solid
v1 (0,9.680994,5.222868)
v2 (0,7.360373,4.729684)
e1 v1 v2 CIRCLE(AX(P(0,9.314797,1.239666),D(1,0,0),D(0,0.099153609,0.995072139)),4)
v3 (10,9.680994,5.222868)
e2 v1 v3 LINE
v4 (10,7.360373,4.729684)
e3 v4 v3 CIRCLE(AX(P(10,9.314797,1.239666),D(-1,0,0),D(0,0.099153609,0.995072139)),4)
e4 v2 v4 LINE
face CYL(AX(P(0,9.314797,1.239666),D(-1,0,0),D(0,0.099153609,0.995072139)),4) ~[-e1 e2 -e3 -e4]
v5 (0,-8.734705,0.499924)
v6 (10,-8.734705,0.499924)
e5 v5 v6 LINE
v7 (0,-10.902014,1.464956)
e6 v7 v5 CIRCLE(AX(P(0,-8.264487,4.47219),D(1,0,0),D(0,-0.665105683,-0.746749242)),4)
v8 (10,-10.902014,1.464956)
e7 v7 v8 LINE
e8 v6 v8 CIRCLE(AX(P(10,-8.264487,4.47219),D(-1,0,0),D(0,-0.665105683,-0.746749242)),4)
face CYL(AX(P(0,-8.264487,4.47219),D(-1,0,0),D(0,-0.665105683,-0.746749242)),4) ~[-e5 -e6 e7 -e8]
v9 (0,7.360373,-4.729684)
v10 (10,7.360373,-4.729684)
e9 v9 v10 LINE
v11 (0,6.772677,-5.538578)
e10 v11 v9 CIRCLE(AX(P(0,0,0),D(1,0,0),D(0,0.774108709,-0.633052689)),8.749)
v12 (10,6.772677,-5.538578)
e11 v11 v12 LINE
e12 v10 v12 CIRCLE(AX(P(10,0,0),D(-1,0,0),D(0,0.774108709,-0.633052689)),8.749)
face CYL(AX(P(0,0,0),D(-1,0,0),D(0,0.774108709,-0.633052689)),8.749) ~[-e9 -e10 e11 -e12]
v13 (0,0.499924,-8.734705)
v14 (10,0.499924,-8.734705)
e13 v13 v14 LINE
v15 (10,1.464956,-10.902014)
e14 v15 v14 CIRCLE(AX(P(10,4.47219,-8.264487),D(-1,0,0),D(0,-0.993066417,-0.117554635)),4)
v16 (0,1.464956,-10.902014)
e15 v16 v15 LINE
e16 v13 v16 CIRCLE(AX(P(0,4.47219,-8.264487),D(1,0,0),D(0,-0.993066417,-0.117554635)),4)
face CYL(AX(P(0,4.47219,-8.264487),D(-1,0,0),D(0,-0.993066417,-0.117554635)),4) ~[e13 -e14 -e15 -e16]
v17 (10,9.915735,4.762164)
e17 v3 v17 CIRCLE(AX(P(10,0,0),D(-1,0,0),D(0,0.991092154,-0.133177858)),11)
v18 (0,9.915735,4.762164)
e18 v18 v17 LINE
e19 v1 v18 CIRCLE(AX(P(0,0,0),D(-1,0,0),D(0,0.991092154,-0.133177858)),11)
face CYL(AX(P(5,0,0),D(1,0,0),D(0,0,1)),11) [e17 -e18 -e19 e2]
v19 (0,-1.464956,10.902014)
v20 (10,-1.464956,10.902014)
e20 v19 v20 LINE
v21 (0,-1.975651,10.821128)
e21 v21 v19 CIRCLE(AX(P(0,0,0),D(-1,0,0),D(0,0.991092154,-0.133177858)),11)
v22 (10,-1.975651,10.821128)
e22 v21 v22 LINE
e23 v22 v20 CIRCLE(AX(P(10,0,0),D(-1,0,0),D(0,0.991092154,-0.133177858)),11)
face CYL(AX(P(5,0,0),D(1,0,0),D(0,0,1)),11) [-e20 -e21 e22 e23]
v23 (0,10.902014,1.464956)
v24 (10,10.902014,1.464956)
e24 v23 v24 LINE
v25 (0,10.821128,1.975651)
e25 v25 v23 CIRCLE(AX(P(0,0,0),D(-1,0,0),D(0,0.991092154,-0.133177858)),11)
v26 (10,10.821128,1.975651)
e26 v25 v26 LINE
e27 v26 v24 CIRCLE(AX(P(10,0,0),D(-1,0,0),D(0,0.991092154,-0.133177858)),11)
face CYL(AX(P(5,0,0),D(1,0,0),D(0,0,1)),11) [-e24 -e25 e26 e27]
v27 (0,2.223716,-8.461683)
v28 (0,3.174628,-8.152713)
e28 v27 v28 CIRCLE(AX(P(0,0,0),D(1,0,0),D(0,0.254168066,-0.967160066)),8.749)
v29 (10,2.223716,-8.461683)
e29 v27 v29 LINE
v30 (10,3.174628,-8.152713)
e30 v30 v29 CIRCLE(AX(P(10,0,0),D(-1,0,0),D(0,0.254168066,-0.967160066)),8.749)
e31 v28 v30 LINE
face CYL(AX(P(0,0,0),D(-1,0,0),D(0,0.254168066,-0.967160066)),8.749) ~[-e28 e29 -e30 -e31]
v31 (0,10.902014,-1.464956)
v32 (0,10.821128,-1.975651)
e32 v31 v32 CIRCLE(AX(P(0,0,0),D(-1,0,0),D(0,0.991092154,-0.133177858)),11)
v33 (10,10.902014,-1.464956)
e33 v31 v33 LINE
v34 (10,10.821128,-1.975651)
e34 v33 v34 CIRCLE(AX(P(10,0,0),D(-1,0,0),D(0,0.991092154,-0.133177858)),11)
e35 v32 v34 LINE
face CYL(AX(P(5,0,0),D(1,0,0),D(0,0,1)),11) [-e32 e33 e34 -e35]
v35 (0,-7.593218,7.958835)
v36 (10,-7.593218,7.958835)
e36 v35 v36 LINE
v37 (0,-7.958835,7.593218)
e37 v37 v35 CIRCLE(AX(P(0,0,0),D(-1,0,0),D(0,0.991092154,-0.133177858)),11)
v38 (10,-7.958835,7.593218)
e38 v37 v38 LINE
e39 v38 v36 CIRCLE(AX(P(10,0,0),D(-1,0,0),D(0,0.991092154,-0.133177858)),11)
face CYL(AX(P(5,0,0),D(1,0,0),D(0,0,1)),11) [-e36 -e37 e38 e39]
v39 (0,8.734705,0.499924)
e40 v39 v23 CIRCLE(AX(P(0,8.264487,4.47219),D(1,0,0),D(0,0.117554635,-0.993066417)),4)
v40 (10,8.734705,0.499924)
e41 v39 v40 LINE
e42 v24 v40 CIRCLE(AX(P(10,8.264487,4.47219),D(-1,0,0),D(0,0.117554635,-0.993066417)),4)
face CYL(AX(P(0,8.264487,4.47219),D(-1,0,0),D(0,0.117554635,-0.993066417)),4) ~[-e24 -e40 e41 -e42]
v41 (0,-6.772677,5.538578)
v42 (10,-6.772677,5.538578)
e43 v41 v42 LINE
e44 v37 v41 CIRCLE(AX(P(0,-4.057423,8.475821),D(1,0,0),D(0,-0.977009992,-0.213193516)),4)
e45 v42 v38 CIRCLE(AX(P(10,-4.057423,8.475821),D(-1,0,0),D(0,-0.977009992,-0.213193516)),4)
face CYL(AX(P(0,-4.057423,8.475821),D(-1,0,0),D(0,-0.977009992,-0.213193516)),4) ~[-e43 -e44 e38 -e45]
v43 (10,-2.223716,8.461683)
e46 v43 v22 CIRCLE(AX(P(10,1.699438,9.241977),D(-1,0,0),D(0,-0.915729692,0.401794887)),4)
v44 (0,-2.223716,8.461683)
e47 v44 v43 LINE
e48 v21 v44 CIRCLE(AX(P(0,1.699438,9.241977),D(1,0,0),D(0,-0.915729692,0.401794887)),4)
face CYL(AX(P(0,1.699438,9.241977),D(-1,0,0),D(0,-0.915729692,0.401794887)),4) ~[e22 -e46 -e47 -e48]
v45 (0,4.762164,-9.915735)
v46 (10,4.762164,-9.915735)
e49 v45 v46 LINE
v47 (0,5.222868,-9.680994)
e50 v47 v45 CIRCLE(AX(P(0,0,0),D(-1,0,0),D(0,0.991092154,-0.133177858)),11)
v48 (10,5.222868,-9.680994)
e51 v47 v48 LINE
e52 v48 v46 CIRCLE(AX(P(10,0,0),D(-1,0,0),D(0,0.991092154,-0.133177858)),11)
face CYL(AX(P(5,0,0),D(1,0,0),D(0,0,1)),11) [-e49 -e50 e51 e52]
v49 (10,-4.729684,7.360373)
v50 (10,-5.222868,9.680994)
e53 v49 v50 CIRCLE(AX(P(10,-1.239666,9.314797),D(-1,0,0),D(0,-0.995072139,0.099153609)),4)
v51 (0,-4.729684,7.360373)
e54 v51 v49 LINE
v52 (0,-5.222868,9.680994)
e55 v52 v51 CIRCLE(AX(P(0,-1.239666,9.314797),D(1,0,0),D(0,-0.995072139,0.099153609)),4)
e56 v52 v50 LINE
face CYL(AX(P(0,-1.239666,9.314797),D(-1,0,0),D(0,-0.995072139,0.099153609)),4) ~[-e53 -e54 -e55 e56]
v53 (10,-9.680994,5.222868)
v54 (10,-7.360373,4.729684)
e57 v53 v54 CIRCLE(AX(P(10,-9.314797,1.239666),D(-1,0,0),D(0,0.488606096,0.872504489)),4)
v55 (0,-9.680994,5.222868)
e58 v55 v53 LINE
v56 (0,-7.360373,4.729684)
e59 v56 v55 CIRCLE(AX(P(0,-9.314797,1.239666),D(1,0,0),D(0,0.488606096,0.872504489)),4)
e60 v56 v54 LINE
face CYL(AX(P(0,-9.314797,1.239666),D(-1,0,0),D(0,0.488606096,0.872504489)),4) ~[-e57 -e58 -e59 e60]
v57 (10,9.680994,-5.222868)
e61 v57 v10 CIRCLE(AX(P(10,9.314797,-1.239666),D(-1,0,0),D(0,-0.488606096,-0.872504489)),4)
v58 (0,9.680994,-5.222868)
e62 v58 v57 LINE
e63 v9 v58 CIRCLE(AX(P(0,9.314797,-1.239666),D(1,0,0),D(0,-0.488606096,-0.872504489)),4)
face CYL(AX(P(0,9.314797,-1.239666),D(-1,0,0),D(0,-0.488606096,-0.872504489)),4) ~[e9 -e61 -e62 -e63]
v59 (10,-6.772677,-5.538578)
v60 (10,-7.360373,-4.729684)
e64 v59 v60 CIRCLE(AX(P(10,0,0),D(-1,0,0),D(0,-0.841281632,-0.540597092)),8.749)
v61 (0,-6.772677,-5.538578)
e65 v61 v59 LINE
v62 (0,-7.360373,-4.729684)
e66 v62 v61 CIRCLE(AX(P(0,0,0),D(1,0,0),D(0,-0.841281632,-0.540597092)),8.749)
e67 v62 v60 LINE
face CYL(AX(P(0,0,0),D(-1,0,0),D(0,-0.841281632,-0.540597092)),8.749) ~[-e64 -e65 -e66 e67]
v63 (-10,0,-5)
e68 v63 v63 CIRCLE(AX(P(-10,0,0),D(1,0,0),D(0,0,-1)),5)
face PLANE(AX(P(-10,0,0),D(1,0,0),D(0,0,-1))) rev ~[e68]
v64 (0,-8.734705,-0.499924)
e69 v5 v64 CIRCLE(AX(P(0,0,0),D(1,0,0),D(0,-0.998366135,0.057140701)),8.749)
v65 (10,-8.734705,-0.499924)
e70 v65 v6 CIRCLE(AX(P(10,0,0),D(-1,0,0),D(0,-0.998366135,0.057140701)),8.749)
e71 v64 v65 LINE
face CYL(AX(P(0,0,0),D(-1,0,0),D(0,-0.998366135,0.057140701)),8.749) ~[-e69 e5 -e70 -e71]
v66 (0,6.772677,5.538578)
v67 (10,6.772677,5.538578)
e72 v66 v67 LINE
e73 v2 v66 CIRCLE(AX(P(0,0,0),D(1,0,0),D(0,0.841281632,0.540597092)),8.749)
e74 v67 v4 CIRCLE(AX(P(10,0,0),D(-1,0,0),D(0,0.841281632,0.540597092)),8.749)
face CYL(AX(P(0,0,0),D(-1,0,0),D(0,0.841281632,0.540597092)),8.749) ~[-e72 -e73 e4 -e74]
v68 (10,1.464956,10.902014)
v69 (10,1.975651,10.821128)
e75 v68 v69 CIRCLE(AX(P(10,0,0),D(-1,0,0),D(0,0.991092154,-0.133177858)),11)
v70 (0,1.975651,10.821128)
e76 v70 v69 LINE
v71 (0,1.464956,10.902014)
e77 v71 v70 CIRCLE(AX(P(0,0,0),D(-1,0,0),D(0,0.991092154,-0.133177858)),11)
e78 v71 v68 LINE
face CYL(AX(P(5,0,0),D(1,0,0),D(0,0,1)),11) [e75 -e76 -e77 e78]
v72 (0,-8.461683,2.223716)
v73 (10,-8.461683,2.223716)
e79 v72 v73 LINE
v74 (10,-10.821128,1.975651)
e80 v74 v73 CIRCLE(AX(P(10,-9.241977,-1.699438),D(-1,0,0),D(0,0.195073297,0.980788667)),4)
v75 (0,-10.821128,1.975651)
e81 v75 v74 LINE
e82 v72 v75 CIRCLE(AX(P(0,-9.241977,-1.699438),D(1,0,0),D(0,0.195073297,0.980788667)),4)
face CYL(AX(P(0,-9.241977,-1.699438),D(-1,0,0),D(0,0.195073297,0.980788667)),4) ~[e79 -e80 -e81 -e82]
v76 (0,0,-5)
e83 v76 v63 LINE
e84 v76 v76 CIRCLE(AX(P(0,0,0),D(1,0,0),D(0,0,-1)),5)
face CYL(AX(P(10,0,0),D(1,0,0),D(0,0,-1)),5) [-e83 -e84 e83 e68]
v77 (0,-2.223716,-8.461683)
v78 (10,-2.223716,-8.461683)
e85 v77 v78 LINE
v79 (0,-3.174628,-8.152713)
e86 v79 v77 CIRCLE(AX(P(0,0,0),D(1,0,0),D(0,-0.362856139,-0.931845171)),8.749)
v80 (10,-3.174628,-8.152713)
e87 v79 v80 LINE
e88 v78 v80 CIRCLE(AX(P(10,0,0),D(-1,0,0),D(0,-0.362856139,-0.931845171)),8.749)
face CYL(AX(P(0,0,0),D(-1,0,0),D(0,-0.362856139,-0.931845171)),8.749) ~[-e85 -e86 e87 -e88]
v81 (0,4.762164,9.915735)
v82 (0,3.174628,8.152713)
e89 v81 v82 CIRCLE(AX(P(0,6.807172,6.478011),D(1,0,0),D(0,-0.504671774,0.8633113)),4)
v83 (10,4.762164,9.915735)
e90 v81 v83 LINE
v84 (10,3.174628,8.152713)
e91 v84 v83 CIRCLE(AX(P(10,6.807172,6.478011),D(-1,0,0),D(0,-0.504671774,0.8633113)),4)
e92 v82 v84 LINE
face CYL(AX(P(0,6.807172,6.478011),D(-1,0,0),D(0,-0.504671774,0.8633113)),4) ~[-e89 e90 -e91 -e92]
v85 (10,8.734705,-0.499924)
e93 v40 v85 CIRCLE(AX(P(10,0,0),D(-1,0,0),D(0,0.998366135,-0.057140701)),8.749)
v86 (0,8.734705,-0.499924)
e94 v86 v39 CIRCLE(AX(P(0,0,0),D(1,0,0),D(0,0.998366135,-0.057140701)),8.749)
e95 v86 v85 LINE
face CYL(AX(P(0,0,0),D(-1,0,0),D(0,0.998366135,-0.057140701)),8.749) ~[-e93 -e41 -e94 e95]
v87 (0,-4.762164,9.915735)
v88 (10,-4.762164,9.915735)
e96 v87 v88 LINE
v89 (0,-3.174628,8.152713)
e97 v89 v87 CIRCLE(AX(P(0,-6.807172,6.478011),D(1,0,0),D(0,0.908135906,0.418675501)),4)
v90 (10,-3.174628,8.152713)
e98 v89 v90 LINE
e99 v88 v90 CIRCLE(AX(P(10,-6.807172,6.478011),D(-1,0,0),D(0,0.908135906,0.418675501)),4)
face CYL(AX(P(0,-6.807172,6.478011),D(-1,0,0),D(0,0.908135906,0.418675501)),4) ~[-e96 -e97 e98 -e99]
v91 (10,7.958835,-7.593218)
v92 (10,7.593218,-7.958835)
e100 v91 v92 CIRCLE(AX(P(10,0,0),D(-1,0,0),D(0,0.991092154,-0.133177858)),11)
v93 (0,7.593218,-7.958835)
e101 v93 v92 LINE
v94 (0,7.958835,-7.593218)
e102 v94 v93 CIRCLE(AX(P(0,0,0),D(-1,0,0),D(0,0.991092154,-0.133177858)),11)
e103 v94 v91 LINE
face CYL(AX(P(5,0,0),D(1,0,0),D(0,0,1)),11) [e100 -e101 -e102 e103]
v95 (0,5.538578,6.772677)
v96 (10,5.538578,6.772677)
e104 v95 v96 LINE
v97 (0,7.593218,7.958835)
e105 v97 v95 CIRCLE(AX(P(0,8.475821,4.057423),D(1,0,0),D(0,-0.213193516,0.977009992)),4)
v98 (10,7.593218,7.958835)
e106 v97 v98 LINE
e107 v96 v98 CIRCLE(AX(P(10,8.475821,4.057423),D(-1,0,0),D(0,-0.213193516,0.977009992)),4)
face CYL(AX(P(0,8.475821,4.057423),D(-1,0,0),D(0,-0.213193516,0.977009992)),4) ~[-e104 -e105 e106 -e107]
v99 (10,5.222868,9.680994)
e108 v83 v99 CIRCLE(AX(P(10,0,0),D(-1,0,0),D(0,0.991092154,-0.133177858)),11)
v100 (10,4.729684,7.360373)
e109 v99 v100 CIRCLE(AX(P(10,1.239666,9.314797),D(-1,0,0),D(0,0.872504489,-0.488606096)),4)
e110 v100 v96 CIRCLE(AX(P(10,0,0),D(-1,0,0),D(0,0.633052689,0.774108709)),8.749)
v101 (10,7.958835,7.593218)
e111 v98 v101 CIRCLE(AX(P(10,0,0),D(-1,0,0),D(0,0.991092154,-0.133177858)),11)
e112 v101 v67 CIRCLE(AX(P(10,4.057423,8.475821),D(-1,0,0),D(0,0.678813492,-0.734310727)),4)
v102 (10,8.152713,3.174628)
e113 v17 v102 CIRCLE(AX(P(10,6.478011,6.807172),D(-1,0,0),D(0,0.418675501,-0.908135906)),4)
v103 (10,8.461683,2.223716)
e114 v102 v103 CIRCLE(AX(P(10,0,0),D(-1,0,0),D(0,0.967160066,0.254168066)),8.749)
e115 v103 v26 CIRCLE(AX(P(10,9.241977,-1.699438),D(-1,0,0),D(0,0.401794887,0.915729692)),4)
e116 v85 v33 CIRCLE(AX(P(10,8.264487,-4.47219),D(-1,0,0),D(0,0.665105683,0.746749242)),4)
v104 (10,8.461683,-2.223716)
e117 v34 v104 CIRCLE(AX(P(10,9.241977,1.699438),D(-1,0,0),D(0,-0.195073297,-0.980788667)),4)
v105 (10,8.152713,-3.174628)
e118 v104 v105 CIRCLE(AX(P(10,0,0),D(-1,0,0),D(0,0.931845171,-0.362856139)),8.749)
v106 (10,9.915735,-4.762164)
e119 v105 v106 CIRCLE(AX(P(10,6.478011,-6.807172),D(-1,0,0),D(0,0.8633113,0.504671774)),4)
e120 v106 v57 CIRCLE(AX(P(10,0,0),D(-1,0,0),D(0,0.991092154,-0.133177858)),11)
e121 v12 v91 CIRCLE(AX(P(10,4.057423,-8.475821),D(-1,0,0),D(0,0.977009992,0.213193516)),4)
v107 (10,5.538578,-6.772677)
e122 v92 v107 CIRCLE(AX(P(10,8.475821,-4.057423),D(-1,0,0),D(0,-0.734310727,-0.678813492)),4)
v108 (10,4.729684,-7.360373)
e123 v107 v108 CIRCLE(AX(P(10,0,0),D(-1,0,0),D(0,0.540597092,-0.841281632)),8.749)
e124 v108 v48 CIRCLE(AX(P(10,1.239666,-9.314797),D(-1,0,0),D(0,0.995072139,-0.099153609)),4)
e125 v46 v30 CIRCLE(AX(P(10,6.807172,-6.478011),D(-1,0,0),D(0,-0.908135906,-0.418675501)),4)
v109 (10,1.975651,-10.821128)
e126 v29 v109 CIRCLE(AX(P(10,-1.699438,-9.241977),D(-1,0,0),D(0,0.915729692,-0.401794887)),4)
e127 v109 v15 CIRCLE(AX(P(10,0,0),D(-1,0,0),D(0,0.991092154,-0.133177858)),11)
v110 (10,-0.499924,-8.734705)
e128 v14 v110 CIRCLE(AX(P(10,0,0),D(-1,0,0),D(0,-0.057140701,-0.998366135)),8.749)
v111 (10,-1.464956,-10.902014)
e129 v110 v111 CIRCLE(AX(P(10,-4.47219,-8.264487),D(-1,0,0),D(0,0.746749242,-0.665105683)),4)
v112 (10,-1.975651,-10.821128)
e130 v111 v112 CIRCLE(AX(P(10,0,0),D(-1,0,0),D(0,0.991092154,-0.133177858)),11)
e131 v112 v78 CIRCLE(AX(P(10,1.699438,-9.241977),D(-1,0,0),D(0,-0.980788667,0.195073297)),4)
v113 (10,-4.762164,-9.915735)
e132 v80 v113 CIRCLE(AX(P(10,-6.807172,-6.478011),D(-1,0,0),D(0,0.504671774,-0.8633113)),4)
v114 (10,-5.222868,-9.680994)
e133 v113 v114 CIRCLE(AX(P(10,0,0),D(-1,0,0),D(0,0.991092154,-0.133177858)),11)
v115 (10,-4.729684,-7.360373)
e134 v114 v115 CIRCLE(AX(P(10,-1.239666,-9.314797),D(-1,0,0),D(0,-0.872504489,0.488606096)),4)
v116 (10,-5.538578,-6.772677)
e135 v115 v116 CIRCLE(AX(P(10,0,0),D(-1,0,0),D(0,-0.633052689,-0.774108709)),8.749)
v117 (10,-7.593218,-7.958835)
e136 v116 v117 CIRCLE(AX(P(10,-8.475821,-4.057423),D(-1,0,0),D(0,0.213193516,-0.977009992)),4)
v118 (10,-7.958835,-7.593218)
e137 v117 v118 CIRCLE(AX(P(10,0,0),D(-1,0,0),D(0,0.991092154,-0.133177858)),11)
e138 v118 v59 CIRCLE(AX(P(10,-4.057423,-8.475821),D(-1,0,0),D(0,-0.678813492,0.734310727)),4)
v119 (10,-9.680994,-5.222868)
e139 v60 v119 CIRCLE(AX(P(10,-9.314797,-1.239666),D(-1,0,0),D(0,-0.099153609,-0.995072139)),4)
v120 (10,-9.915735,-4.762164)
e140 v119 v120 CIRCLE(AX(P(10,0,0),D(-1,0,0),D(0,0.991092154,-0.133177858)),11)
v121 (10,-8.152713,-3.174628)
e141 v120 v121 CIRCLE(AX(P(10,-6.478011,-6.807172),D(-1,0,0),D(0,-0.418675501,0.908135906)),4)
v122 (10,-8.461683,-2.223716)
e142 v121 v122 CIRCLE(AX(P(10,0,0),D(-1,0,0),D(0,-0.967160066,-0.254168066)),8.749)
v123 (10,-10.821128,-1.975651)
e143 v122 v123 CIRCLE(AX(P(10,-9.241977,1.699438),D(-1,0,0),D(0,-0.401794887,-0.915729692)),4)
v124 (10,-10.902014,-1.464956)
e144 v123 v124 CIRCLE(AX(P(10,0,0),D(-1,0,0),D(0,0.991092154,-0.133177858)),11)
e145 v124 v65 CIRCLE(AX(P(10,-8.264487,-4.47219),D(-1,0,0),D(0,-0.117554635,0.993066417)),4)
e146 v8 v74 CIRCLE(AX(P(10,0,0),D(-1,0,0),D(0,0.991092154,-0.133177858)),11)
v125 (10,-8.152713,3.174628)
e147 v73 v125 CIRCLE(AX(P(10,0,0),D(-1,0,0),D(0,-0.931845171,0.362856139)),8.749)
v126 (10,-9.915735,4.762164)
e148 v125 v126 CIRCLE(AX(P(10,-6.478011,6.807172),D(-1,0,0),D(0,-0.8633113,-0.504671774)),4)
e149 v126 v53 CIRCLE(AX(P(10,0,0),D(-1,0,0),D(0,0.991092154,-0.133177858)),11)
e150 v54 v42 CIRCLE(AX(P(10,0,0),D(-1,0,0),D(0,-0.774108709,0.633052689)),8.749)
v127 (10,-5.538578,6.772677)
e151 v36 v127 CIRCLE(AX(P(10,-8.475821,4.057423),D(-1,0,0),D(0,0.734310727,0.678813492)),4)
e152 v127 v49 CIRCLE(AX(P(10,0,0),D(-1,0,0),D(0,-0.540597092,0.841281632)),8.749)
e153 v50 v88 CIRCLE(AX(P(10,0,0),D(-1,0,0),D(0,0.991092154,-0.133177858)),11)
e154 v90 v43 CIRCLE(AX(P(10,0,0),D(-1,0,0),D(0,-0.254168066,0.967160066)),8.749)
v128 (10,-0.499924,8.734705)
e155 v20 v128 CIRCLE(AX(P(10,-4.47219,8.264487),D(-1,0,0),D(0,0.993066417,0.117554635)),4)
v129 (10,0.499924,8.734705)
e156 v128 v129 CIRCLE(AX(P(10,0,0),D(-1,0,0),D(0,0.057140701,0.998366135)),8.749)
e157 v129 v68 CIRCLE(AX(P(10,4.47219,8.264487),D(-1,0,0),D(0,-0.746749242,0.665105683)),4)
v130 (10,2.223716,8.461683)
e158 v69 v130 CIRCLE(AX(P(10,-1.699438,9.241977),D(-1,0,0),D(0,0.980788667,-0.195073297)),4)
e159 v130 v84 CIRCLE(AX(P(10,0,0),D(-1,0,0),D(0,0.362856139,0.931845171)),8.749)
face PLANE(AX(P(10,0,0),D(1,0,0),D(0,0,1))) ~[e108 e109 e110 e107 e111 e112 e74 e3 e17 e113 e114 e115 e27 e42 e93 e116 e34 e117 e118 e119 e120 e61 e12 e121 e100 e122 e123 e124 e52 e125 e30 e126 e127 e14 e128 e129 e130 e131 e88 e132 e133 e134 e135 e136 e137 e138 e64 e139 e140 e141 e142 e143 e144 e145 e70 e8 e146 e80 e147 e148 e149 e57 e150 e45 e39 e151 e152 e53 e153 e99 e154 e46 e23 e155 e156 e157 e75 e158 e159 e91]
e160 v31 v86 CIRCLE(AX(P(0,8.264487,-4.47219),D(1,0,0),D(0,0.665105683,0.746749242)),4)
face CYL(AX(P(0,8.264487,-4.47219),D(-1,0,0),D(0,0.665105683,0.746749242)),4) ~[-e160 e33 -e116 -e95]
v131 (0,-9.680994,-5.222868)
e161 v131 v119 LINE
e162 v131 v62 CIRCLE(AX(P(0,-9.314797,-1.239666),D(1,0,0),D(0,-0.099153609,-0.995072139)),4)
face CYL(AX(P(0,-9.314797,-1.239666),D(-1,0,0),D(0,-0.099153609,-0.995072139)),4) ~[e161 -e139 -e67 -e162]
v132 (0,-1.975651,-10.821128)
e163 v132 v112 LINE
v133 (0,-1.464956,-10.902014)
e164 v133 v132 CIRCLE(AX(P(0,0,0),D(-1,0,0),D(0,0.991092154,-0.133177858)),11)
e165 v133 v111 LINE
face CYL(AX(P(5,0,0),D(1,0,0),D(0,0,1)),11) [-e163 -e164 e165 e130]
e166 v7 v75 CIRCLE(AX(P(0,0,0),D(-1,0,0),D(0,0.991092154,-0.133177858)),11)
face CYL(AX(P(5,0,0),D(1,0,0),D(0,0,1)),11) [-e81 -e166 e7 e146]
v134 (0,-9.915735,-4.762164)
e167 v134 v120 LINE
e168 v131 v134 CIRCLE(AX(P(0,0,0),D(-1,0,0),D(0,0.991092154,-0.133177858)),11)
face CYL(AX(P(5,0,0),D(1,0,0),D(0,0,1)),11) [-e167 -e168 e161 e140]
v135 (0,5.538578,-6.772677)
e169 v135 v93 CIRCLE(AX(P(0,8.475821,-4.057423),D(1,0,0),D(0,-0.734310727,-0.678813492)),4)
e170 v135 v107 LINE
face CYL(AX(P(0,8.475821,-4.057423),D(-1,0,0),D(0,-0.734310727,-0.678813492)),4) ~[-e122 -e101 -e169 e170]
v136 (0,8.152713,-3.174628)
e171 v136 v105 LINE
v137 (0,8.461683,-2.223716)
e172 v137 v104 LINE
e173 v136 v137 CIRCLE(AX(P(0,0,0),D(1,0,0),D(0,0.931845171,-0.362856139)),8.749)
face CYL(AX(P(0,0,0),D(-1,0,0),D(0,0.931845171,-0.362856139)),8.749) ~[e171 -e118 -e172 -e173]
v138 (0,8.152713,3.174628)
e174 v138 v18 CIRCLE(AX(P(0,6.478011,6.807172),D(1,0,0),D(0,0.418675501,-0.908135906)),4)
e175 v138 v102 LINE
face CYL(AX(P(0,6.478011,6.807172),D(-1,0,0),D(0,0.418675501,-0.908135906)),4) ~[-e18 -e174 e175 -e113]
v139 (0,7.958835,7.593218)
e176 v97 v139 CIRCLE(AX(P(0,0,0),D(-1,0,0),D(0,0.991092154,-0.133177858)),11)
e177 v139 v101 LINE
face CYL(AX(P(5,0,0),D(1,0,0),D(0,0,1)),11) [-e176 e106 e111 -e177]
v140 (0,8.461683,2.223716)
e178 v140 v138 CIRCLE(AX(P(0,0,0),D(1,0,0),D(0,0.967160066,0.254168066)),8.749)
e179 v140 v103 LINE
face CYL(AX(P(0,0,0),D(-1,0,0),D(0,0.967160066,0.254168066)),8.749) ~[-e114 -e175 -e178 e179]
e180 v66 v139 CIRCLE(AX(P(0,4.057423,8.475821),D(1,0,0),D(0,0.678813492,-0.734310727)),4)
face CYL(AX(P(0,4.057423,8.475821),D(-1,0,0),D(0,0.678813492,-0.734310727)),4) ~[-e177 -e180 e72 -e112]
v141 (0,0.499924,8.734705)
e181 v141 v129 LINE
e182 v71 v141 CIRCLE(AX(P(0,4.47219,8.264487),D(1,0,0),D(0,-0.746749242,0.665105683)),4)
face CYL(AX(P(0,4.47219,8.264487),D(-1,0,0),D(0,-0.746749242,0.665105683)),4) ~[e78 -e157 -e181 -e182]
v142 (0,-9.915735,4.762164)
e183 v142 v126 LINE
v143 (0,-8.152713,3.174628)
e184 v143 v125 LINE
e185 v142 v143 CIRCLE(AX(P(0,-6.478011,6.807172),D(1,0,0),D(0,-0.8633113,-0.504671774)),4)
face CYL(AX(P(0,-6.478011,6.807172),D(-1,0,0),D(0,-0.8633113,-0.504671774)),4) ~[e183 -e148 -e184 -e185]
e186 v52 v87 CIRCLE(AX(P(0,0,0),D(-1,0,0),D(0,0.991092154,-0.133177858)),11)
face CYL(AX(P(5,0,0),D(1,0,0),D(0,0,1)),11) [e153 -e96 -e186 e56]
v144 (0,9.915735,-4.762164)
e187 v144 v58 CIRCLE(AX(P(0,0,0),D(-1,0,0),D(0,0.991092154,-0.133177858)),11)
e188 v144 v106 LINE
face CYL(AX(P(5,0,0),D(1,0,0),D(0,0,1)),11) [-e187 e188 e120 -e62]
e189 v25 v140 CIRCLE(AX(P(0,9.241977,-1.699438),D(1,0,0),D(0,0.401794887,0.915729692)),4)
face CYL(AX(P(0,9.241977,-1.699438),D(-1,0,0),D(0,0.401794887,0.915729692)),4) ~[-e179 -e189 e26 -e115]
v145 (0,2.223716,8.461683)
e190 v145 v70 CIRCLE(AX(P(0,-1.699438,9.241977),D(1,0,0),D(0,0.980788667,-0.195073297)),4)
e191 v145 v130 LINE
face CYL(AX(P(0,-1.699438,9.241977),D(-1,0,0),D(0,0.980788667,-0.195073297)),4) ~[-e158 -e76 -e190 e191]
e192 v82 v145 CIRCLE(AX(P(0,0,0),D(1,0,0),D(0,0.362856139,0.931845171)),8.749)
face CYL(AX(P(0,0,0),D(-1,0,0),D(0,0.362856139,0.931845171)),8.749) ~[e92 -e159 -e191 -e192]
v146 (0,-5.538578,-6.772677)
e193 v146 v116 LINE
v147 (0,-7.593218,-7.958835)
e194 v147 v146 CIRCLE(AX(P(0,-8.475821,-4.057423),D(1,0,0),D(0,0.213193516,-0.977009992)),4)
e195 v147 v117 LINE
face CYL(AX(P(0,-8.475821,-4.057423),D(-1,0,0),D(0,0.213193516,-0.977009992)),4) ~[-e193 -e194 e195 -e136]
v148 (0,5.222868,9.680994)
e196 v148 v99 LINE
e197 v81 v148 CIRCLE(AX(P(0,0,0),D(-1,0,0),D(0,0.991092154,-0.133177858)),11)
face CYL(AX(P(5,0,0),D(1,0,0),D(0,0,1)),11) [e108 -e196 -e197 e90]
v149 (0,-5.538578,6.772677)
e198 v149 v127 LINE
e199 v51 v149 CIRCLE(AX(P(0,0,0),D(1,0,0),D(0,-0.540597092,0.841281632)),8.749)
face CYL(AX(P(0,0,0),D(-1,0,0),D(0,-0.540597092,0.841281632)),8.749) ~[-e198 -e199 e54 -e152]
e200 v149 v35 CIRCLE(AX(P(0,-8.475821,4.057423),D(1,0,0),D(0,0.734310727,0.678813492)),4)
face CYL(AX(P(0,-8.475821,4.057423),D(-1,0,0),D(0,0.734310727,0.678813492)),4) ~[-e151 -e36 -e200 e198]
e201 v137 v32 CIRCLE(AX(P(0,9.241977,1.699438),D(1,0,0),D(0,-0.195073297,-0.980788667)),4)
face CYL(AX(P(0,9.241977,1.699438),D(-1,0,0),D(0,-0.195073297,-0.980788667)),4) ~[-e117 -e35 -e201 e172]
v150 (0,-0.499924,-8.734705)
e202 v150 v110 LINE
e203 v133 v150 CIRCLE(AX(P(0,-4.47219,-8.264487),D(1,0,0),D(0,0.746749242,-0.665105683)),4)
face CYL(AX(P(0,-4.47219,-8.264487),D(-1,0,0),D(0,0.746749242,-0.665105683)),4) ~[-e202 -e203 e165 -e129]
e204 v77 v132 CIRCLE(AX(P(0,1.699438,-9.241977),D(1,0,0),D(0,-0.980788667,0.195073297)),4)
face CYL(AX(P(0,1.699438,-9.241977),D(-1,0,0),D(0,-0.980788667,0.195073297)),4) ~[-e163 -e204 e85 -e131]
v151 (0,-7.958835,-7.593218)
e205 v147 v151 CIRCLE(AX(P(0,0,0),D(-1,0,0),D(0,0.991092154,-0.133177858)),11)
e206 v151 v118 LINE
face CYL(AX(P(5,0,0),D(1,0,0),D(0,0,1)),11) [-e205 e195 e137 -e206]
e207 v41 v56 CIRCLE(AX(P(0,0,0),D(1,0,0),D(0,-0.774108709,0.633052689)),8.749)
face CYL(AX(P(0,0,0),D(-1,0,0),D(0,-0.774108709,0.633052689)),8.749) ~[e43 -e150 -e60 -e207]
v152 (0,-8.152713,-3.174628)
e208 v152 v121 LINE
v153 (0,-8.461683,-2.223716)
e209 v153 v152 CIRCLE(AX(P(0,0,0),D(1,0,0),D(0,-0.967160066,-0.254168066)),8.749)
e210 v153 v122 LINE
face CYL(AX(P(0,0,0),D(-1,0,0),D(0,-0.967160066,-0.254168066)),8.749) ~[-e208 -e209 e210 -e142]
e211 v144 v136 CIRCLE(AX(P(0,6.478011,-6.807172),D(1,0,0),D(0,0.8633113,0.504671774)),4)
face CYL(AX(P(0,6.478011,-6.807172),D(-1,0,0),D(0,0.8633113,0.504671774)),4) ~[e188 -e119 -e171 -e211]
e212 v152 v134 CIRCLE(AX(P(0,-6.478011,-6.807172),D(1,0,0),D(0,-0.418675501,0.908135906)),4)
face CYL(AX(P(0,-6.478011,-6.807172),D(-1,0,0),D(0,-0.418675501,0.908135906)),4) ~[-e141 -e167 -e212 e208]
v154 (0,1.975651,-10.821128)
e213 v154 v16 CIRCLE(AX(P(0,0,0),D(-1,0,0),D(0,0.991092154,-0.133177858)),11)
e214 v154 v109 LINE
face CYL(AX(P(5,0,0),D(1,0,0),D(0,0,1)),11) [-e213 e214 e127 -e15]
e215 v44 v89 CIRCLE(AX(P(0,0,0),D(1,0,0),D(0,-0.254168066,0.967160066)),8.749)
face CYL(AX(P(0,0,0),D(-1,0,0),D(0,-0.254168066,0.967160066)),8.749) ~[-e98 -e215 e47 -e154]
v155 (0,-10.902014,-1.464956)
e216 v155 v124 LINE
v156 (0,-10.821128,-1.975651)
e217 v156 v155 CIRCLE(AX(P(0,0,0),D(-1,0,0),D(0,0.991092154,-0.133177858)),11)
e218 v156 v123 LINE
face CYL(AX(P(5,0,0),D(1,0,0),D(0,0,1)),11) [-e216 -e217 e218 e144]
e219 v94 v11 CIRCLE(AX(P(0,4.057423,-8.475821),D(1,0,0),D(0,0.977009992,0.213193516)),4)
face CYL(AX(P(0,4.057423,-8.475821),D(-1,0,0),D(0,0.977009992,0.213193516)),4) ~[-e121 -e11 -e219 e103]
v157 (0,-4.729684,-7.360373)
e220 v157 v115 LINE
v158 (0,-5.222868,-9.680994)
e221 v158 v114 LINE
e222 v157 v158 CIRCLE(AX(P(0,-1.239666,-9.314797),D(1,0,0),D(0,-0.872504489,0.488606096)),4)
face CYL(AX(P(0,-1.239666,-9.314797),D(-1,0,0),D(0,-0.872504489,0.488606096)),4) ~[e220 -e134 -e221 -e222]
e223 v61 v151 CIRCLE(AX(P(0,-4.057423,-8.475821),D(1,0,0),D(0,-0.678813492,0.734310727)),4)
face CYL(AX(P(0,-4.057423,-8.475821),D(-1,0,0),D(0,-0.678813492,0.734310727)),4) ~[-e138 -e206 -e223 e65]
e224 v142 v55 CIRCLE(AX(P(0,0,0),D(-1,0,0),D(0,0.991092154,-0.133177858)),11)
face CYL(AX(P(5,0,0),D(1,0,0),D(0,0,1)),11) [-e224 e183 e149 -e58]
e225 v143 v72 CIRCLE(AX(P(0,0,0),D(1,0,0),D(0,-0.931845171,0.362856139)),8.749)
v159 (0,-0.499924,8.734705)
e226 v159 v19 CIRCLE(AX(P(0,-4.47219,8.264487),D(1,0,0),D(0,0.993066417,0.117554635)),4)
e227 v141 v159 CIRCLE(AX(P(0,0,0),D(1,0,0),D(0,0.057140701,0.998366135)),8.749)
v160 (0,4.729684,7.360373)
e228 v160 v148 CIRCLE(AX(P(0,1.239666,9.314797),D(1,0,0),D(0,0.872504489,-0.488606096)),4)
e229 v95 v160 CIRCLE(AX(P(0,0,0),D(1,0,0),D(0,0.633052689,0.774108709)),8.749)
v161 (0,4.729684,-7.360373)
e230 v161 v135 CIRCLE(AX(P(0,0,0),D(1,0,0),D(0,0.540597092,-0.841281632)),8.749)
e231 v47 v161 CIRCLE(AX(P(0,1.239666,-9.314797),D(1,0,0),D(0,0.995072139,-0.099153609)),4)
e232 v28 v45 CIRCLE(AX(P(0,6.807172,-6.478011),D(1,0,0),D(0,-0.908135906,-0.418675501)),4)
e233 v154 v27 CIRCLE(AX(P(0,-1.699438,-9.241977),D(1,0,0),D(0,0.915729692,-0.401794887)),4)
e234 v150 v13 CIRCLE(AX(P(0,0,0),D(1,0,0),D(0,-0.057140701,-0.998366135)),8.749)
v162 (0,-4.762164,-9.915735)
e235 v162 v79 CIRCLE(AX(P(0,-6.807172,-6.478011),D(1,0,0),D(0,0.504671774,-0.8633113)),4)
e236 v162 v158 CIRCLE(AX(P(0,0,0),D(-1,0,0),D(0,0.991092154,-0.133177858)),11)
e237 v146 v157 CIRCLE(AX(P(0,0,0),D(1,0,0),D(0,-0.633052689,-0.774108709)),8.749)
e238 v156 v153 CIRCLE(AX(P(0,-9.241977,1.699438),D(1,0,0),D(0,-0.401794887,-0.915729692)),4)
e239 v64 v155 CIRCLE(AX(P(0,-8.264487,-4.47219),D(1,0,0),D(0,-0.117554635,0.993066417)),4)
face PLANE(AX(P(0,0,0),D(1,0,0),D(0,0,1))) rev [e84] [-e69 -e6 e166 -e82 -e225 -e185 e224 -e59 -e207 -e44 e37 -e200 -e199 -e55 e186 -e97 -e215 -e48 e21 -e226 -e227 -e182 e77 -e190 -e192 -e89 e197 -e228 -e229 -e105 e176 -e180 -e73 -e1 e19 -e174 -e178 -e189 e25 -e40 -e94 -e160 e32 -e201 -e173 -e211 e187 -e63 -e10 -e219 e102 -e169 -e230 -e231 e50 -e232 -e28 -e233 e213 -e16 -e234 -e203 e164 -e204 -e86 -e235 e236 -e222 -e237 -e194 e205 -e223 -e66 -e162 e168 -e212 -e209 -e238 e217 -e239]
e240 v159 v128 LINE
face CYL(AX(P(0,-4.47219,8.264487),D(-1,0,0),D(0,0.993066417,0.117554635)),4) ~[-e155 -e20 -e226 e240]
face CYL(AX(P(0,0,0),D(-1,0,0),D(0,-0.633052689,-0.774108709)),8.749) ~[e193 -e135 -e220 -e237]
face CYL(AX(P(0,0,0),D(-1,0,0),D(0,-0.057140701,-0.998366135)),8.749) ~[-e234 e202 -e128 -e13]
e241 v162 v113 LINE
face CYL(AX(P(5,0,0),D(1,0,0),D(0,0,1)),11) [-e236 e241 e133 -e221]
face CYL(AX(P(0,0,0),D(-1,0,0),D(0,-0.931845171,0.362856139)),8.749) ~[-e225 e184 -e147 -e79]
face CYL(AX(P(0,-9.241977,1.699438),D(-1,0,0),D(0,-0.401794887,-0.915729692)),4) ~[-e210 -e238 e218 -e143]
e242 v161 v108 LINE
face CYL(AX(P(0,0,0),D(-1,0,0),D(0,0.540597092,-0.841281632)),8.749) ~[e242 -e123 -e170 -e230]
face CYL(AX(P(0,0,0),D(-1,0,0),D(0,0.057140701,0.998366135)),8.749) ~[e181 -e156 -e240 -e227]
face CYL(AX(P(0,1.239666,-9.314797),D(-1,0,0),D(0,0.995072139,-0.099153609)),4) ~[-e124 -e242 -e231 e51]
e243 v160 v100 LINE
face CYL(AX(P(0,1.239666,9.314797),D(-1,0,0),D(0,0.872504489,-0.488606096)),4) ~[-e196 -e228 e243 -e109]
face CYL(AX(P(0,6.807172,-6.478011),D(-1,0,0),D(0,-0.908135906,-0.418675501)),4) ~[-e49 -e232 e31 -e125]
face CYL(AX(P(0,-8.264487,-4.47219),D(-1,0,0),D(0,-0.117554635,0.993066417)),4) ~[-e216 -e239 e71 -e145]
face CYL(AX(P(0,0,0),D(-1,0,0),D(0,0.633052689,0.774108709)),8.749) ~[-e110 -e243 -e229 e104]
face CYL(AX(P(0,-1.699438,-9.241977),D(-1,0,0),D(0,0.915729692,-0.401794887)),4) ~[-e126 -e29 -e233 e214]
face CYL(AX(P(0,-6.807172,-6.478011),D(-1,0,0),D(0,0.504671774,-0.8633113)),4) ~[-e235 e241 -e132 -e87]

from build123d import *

# Parameters (mm, degrees)
BASPROSKE_W     = 10
BASPROSKE_H     = 11
TOOTHCUT_DEPTH  = 19.493242009
TEETHCUTS_COUNT = 20
TEETHCUTS_ANGLE = 342
BORSKE_R        = 0.5
BORE_DEPTH      = 50.0000508
SKETCH_1_R      = 5
EXTRUDE_1_DEPTH = 20


with BuildPart() as part:
    # BasProSke → Base-Revolve (revolve)
    with BuildSketch(Plane(origin=(0, 0, 0), x_dir=(1, 0, 0), z_dir=(0, 1, 0)), mode=Mode.PRIVATE) as base_revolve_sk:
        with Locations((5, 5.5)):
            Rectangle(BASPROSKE_W, BASPROSKE_H)
    revolve(base_revolve_sk.sketch.rotate(Axis((-10, 0, 0), (1, 0, 0)), 180), axis=Axis((-10, 0, 0), (1, 0, 0)))

    # TooCutSke → ToothCut (cut, through all)
    with BuildSketch(Plane(origin=(0, 0, 0), x_dir=(0, 0, -1), z_dir=(1, 0, 0))):
        with BuildLine():
            ThreePointArc((0.499924007, 8.734705318), (0, 8.749), (-0.499924007, 8.734705318))
            ThreePointArc((-0.499924007, 8.734705318), (-0.824302243, 9.905497836), (-1.485192705, 10.924909509))
            ThreePointArc((-1.485192705, 10.924909509), (0, 11.0254), (1.485192705, 10.924909509))
            ThreePointArc((1.485192705, 10.924909509), (0.824302243, 9.905497836), (0.499924007, 8.734705318))
        make_face()
    toothcut = extrude(amount=TOOTHCUT_DEPTH, mode=Mode.SUBTRACT)

    # TeethCuts: ToothCut ×20 about axis
    teethcuts_axis = Axis((-10, 0, 0), (1, 0, 0))
    for i in range(1, TEETHCUTS_COUNT):
        add(toothcut.rotate(teethcuts_axis, i * TEETHCUTS_ANGLE / (TEETHCUTS_COUNT - 1)), mode=Mode.SUBTRACT)

    # BorSke → Bore (cut, symmetric)
    with BuildSketch(Plane(origin=(0, 0, 0), x_dir=(0, 0, -1), z_dir=(1, 0, 0))):
        with Locations(Location((0, 0, 0), (0, 0, 180))):
            Circle(BORSKE_R)
    extrude(amount=BORE_DEPTH, both=True, mode=Mode.SUBTRACT)

    # 草图1 → 凸台-拉伸1 (add)
    with BuildSketch(Plane(origin=(10, 0, 0), x_dir=(0, 0, -1), z_dir=(1, 0, 0))):
        Circle(SKETCH_1_R)
    extrude(amount=-EXTRUDE_1_DEPTH)


solid = part.part
